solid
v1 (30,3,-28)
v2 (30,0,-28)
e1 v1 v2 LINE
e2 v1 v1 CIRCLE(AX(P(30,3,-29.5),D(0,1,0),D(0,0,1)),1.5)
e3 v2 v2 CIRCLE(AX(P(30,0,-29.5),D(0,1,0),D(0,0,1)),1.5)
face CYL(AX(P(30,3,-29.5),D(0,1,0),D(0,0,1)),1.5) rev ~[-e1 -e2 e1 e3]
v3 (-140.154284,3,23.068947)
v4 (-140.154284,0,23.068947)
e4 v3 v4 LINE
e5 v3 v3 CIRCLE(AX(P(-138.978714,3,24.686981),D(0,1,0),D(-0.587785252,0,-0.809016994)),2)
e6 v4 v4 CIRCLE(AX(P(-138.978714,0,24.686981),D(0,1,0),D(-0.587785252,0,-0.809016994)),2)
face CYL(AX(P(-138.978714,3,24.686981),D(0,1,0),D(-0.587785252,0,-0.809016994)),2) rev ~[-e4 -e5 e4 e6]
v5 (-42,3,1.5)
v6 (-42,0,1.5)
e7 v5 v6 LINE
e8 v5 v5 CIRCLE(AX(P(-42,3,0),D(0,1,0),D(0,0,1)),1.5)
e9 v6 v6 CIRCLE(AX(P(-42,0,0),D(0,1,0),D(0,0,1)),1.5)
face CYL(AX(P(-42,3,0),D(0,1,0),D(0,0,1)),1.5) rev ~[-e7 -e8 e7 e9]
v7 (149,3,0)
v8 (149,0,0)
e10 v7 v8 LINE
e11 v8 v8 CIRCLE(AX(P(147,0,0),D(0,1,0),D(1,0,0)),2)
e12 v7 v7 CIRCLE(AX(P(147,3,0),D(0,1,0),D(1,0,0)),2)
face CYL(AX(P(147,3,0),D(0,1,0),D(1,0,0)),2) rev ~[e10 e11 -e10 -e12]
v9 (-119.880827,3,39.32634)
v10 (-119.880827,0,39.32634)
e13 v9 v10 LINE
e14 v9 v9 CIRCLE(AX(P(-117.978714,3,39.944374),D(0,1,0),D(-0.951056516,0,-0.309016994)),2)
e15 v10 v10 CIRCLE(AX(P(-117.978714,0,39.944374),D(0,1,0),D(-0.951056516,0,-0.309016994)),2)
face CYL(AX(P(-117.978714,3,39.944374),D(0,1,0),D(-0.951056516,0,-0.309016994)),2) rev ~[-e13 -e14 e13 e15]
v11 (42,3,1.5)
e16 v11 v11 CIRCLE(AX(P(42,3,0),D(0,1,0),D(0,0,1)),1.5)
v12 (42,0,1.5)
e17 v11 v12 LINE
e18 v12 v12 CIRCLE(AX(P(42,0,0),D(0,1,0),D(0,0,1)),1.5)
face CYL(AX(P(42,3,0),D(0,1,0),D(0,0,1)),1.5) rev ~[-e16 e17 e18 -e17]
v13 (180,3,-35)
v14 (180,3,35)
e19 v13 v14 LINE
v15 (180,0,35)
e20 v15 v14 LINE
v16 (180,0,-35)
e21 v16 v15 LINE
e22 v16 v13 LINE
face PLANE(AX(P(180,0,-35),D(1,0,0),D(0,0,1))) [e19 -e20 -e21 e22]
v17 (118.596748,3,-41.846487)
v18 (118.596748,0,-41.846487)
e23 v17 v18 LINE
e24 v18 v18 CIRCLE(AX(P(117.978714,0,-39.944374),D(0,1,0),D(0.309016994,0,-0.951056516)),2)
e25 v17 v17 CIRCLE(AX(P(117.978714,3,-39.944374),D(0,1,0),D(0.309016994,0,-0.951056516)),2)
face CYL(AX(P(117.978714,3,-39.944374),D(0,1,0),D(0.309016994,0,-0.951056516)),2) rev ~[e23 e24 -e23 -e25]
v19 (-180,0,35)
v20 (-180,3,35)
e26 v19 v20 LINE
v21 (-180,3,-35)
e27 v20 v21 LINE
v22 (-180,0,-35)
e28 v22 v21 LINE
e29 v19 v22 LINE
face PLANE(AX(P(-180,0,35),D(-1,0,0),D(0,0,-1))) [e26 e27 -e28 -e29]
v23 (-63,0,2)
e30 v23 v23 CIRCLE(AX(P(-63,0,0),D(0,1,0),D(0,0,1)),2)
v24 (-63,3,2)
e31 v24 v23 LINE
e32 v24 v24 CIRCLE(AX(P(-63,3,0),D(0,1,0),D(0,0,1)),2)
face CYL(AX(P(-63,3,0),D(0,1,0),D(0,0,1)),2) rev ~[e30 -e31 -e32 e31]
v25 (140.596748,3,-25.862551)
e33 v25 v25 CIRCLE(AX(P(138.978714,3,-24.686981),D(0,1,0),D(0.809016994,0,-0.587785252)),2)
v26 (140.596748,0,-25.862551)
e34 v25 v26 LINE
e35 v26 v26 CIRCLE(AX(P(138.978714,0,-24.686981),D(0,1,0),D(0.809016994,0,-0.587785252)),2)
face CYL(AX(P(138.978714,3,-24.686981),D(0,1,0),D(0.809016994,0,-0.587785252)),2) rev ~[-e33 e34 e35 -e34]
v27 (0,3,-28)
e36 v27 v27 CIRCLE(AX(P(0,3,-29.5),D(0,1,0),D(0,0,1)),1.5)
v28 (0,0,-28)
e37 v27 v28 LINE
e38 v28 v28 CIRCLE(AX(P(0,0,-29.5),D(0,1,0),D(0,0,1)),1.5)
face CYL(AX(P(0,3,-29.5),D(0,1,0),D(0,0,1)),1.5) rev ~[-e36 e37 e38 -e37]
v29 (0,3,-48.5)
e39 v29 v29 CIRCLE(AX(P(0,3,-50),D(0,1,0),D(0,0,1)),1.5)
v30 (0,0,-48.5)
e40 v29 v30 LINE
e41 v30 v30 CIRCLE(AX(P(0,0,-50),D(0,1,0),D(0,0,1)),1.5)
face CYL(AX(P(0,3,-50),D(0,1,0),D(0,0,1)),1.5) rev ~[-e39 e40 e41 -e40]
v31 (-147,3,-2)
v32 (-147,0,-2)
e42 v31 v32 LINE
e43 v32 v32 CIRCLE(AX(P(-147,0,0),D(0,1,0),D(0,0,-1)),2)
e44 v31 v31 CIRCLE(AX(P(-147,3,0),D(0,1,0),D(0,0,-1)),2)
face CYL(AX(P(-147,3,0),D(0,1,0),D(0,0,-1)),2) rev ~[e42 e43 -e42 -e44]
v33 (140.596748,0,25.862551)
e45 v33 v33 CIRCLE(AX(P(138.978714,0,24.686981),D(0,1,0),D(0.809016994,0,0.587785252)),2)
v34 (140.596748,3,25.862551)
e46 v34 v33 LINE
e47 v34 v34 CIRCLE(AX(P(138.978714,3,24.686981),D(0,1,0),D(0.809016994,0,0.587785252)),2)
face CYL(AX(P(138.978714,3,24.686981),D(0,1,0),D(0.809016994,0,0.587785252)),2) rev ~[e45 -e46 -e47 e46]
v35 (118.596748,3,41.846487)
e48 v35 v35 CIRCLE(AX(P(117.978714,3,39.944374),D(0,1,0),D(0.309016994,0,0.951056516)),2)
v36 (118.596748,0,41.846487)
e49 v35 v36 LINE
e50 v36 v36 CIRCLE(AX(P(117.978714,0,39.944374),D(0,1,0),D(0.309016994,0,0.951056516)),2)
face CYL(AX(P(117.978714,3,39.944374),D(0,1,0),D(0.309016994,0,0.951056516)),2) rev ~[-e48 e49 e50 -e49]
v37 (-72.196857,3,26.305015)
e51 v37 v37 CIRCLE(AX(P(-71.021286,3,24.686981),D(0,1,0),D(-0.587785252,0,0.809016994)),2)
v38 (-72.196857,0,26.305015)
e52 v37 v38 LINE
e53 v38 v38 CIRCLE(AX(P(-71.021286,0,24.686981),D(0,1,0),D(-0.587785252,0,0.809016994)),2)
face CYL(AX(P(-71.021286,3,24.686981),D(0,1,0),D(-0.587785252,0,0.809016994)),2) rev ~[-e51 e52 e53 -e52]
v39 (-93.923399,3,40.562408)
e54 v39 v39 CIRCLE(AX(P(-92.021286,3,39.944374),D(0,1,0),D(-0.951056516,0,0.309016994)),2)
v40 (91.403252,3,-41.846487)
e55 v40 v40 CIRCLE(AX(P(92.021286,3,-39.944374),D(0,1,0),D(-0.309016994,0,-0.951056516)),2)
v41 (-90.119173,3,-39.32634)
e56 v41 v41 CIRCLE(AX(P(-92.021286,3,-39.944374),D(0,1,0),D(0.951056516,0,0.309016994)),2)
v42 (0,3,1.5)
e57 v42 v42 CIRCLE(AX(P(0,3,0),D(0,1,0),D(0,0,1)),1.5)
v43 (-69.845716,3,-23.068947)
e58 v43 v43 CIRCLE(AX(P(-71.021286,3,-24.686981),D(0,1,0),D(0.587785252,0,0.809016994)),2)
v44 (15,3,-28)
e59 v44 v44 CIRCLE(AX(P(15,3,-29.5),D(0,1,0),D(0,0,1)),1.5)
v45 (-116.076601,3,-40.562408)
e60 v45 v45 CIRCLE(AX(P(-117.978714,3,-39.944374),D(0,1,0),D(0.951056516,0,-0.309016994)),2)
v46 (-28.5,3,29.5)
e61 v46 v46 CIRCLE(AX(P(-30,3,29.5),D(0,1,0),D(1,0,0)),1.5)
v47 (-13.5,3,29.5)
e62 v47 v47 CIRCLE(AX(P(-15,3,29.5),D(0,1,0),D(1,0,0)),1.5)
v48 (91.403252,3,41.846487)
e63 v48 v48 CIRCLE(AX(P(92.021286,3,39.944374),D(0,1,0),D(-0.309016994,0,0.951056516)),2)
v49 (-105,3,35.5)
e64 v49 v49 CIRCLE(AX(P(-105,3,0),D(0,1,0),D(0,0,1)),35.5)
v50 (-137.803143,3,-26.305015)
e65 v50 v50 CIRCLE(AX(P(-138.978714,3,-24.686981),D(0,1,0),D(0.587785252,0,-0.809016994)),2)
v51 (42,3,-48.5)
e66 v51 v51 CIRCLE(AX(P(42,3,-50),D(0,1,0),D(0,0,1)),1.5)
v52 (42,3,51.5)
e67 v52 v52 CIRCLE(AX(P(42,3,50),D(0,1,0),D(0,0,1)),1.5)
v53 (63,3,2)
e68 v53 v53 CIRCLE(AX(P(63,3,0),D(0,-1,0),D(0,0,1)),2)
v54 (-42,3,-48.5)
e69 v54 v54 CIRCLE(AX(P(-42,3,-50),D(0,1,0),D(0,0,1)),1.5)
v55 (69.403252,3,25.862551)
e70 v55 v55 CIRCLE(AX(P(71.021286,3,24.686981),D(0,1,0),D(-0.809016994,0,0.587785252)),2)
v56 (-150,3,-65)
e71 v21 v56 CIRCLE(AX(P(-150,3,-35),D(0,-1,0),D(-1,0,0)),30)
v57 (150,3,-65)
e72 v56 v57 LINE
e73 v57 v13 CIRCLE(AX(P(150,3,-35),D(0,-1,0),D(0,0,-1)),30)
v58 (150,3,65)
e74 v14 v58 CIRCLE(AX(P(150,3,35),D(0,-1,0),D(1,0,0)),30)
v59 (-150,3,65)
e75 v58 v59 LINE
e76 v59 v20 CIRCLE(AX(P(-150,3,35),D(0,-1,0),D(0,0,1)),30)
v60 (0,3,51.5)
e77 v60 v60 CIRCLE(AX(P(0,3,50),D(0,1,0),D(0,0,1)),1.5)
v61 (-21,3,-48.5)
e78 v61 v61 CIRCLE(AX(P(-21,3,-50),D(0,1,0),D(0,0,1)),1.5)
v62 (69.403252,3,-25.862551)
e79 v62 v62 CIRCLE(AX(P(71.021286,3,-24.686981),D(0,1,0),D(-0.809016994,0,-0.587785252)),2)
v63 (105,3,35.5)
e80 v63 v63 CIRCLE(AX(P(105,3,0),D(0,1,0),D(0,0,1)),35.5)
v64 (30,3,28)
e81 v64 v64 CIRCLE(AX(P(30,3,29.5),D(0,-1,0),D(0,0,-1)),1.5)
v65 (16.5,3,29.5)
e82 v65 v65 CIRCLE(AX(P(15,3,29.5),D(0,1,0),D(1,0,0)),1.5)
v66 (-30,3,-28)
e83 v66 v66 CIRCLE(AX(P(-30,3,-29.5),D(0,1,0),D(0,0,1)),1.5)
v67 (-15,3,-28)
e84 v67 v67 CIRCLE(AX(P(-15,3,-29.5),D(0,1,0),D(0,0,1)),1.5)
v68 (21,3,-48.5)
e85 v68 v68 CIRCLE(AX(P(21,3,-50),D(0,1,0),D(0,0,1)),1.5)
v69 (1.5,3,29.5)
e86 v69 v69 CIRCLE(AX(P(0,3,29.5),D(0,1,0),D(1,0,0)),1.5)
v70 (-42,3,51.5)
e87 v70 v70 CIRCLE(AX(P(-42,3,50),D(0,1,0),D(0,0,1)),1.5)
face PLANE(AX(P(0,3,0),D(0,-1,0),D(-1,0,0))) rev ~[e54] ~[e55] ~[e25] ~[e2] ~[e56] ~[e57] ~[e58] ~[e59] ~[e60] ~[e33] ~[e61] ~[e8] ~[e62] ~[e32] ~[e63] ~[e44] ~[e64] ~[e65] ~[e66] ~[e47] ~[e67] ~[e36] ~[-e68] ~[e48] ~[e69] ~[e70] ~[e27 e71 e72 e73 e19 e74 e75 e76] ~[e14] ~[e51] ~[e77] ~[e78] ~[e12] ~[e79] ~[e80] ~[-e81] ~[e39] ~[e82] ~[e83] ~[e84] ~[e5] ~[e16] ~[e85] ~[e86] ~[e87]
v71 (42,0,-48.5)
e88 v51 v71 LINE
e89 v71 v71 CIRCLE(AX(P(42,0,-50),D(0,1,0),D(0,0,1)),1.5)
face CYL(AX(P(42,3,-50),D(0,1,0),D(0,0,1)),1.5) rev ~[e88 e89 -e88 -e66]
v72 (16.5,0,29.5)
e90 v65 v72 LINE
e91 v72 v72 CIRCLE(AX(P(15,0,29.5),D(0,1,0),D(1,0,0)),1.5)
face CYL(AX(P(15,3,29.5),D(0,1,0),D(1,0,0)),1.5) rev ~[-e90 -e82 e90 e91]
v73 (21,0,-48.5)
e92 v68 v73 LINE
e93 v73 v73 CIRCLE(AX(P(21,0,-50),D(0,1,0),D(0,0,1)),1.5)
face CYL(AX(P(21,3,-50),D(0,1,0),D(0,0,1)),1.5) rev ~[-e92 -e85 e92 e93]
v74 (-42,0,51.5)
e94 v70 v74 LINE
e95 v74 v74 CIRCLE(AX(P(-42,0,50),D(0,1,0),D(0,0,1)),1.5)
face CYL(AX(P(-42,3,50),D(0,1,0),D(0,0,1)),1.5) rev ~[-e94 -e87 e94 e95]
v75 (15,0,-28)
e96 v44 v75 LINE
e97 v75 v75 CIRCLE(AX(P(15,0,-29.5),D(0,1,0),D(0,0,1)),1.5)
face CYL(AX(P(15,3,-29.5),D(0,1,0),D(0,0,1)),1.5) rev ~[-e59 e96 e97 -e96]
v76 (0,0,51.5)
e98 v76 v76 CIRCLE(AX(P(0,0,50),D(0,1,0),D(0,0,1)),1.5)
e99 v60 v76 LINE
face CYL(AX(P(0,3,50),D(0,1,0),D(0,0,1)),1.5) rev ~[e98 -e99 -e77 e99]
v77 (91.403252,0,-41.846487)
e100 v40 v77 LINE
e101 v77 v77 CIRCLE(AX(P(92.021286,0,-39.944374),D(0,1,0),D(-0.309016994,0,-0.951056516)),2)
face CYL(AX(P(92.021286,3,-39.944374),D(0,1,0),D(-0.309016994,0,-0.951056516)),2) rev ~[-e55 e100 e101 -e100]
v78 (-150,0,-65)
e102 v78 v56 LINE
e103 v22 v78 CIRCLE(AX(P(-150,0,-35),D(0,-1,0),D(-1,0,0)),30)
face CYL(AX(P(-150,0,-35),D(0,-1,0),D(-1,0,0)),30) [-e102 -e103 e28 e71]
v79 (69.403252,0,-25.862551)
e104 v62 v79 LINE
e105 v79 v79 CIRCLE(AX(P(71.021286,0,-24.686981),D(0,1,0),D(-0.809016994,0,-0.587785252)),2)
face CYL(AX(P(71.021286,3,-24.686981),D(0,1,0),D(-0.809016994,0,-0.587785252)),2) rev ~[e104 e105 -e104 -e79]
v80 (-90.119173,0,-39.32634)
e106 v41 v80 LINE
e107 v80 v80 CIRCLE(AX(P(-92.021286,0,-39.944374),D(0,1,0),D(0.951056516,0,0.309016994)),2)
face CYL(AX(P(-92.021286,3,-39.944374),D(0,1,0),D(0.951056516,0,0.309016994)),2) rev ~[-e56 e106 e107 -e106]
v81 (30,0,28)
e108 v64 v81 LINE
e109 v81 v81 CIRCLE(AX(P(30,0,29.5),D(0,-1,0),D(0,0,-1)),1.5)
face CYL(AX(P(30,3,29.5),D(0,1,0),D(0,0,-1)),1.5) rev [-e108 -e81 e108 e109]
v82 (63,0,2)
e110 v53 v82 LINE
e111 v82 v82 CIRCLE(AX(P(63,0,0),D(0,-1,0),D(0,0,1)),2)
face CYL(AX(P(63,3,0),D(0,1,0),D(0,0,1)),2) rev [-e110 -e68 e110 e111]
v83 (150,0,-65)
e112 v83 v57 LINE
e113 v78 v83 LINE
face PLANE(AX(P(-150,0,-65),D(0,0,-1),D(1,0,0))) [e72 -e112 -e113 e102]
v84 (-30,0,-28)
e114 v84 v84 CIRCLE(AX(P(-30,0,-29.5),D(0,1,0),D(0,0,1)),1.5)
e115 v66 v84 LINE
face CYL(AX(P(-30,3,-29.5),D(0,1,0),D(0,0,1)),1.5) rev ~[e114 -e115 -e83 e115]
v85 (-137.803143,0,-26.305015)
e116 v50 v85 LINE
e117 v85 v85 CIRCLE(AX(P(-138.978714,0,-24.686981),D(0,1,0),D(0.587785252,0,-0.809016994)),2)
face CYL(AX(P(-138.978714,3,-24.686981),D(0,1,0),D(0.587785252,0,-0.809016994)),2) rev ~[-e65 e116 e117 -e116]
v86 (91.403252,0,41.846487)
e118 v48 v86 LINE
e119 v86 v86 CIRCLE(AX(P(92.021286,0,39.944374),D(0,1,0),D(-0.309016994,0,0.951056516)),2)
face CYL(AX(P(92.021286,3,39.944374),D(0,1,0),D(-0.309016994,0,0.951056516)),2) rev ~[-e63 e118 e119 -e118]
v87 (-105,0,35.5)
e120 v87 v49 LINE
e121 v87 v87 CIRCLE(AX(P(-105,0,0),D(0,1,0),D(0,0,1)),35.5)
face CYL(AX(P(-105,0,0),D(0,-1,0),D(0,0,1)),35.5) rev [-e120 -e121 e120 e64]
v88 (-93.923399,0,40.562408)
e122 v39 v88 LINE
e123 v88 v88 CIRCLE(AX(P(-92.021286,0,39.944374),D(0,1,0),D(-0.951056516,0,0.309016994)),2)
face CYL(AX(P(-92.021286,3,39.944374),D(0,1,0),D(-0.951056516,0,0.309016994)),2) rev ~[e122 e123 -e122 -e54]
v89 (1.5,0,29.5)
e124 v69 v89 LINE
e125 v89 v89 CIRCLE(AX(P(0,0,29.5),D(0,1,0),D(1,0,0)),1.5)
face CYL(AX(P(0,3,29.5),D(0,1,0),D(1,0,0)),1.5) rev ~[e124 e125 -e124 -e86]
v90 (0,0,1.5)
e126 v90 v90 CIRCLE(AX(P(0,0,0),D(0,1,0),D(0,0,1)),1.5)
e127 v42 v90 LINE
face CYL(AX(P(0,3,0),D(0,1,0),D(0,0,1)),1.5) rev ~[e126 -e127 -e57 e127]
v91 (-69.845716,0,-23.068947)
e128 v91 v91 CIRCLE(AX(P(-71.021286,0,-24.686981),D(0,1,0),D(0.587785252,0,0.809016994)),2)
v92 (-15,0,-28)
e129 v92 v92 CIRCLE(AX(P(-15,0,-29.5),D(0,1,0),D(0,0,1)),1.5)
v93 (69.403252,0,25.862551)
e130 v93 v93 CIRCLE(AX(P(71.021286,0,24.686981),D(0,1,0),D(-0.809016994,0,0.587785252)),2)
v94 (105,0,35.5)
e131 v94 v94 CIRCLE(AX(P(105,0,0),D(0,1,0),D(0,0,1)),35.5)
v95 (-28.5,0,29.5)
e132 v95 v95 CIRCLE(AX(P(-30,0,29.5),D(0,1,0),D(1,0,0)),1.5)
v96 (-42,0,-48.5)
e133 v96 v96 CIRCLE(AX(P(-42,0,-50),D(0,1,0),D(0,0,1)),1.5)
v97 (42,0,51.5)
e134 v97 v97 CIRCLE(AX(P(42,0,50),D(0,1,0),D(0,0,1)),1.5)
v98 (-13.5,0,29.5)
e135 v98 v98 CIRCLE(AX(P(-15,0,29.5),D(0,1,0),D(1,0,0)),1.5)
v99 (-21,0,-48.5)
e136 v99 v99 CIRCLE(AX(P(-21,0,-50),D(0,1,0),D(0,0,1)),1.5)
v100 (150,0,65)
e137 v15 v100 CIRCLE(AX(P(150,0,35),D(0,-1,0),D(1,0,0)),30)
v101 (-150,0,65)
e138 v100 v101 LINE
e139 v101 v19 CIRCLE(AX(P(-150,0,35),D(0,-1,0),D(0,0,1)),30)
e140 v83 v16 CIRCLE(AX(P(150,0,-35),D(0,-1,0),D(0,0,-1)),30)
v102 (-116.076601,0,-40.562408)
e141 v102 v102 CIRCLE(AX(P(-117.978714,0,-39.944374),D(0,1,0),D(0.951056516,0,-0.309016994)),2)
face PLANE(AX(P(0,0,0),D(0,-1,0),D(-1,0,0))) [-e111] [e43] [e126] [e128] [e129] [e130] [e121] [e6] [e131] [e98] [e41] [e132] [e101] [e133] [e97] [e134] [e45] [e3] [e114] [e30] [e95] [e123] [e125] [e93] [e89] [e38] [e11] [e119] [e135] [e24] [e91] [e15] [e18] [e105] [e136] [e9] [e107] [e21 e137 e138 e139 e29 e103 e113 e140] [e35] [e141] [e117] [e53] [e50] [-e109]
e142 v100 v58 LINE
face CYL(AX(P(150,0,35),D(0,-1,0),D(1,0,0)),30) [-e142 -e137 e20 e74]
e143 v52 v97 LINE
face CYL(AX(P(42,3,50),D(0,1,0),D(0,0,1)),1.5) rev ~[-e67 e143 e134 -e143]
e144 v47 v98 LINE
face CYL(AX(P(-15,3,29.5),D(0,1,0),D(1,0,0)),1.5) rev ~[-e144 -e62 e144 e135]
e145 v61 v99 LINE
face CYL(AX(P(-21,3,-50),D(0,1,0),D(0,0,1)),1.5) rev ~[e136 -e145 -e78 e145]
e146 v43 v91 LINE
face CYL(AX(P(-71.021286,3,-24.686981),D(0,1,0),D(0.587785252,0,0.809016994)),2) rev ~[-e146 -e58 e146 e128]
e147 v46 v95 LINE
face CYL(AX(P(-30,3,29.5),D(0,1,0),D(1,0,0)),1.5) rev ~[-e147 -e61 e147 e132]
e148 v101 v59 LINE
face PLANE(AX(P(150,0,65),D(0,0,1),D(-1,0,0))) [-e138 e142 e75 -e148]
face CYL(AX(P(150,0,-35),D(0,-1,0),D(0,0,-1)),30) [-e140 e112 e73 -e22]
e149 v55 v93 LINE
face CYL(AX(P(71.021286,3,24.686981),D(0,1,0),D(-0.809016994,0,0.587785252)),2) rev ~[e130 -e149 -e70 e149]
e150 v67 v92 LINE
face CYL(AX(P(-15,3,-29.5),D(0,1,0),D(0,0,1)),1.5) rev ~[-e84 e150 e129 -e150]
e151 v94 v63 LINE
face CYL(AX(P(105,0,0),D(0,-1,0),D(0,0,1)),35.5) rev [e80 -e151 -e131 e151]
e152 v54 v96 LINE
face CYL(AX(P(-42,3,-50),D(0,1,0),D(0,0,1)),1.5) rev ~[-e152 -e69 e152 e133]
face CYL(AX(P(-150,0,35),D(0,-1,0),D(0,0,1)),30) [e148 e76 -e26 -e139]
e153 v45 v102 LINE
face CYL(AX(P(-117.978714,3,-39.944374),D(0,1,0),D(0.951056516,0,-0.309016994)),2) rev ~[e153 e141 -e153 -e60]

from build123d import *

# Parameters (mm, degrees)
SKETCH_1_R               = 35.5
EXTRUDE_1_DEPTH          = 3
CUT_EXTRUDE_1_REACH      = 193.4
SKETCH_3_R               = 2
PATTERN_CIRCULAR_1_COUNT = 10
MIRROR_1_COPY_1_REACH    = 193.4
MIRROR_1_COPY_1_SKETCH_R = 2
MIRROR_1_COPY_2_REACH    = 193.4
MIRROR_1_COPY_2_SKETCH_R = 2
MIRROR_1_COPY_3_REACH    = 193.4
MIRROR_1_COPY_3_SKETCH_R = 2
MIRROR_1_COPY_4_REACH    = 193.4
MIRROR_1_COPY_4_SKETCH_R = 2
MIRROR_1_COPY_5_REACH    = 193.4
MIRROR_1_COPY_5_SKETCH_R = 2
MIRROR_1_COPY_6_REACH    = 193.4
MIRROR_1_COPY_6_SKETCH_R = 2
MIRROR_1_COPY_7_REACH    = 193.4
MIRROR_1_COPY_7_SKETCH_R = 2
MIRROR_1_COPY_8_REACH    = 193.4
MIRROR_1_COPY_8_SKETCH_R = 2
MIRROR_1_COPY_9_REACH    = 193.4
MIRROR_1_COPY_9_SKETCH_R = 2
CUT_EXTRUDE_2_REACH      = 193.4
SKETCH_4_R               = 1.5
PATTERN_LINEAR_1_COUNT   = 5
PATTERN_LINEAR_1_PITCH   = 21
CUT_EXTRUDE_3_REACH      = 193.4
SKETCH_6_R               = 1.5
PATTERN_LINEAR_3_COUNT   = 5
PATTERN_LINEAR_3_PITCH   = 15
MIRROR_2_COPY_1_REACH    = 193.4
MIRROR_2_COPY_1_SKETCH_R = 1.5
MIRROR_2_COPY_2_REACH    = 193.4
MIRROR_2_COPY_2_SKETCH_R = 1.5
MIRROR_2_COPY_3_REACH    = 193.4
MIRROR_2_COPY_3_SKETCH_R = 1.5
MIRROR_2_COPY_4_REACH    = 193.4
MIRROR_2_COPY_4_SKETCH_R = 1.5
CUT_EXTRUDE_4_REACH      = 193.4
SKETCH_7_R               = 1.5
PATTERN_LINEAR_4_COUNT   = 2
PATTERN_LINEAR_4_PITCH   = 50


with BuildPart() as part:
    # 草圖1 → 填料-伸長1 (new body)
    with BuildSketch(Plane(origin=(0, 0, 0), x_dir=(1, 0, 0), z_dir=(0, 1, 0))):
        with BuildLine():
            Line((-150, 65), (150, 65))
            ThreePointArc((150, 65), (171.213203436, 56.213203436), (180, 35))
            Line((180, 35), (180, -35))
            ThreePointArc((180, -35), (171.213203436, -56.213203436), (150, -65))
            Line((150, -65), (-150, -65))
            ThreePointArc((-150, -65), (-171.213203436, -56.213203436), (-180, -35))
            Line((-180, -35), (-180, 35))
            ThreePointArc((-180, 35), (-171.213203436, 56.213203436), (-150, 65))
        make_face()
        with Locations(Location((105, 0, 0), (0, 0, 270))):
            Circle(SKETCH_1_R, mode=Mode.SUBTRACT)
        with Locations(Location((-105, 0, 0), (0, 0, 270))):
            Circle(SKETCH_1_R, mode=Mode.SUBTRACT)
    extrude(amount=EXTRUDE_1_DEPTH)

    # 草圖3 → 除料-伸長1 (cut, up to next)
    with BuildSketch(Plane(origin=(0, 3, 0), x_dir=(1, 0, 0), z_dir=(0, 1, 0)), mode=Mode.PRIVATE) as cut_extrude_1_sk1:
        with Locations(Location((-63, 0, 0), (0, 0, 270))):
            Circle(SKETCH_3_R)
    cut_extrude_1_tool1 = extrude(cut_extrude_1_sk1.sketch, amount=-CUT_EXTRUDE_1_REACH, mode=Mode.PRIVATE) & part.part
    cut_extrude_1 = cut_extrude_1_tool1.solids().sort_by_distance((-63, 3, 0))[0]
    add(cut_extrude_1, mode=Mode.SUBTRACT)

    # 環狀複製排列1: 除料-伸長1 ×10 about axis
    pattern_circular_1_axis = Axis((-105, 0, 0), (0, 1, 0))
    for i in range(1, PATTERN_CIRCULAR_1_COUNT):
        add(cut_extrude_1.rotate(pattern_circular_1_axis, i * 360 / PATTERN_CIRCULAR_1_COUNT), mode=Mode.SUBTRACT)

    # 鏡射1: 除料-伸長1 across plane
    add(cut_extrude_1.mirror(Plane(origin=(0, 0, 0), x_dir=(0, 0, 1), z_dir=(1, 0, 0))), mode=Mode.SUBTRACT)

    # 鏡射1 copy 1 sketch → 鏡射1 copy 1 (cut, up to next)
    with BuildSketch(Plane(origin=(20.053215591, 3, -61.717451491), x_dir=(-0.8090169943749475, 0, -0.5877852522924731), z_dir=(0, 1, 0)), mode=Mode.PRIVATE) as mirror_1_copy_1_sk1:
        with Locations((-63, 0)):
            Circle(MIRROR_1_COPY_1_SKETCH_R)
    mirror_1_copy_1_tool1 = extrude(mirror_1_copy_1_sk1.sketch, amount=-MIRROR_1_COPY_1_REACH, mode=Mode.PRIVATE) & part.part
    add(mirror_1_copy_1_tool1.solids().sort_by_distance((71.021286236, 3, -24.686980596))[0], mode=Mode.SUBTRACT)

    # 鏡射1 copy 2 sketch → 鏡射1 copy 2 (cut, up to next)
    with BuildSketch(Plane(origin=(72.553215591, 3, -99.860934211), x_dir=(-0.30901699437494745, 0, -0.9510565162951535), z_dir=(0, 1, 0)), mode=Mode.PRIVATE) as mirror_1_copy_2_sk1:
        with Locations((-63, 0)):
            Circle(MIRROR_1_COPY_2_SKETCH_R)
    mirror_1_copy_2_tool1 = extrude(mirror_1_copy_2_sk1.sketch, amount=-MIRROR_1_COPY_2_REACH, mode=Mode.PRIVATE) & part.part
    add(mirror_1_copy_2_tool1.solids().sort_by_distance((92.021286236, 3, -39.944373684))[0], mode=Mode.SUBTRACT)

    # 鏡射1 copy 3 sketch → 鏡射1 copy 3 (cut, up to next)
    with BuildSketch(Plane(origin=(137.446784409, 3, -99.860934211), x_dir=(0.30901699437494734, 0, -0.9510565162951536), z_dir=(0, 1, 0)), mode=Mode.PRIVATE) as mirror_1_copy_3_sk1:
        with Locations((-63, 0)):
            Circle(MIRROR_1_COPY_3_SKETCH_R)
    mirror_1_copy_3_tool1 = extrude(mirror_1_copy_3_sk1.sketch, amount=-MIRROR_1_COPY_3_REACH, mode=Mode.PRIVATE) & part.part
    add(mirror_1_copy_3_tool1.solids().sort_by_distance((117.978713764, 3, -39.944373684))[0], mode=Mode.SUBTRACT)

    # 鏡射1 copy 4 sketch → 鏡射1 copy 4 (cut, up to next)
    with BuildSketch(Plane(origin=(189.946784409, 3, -61.717451491), x_dir=(0.8090169943749473, 0, -0.5877852522924732), z_dir=(0, 1, 0)), mode=Mode.PRIVATE) as mirror_1_copy_4_sk1:
        with Locations((-63, 0)):
            Circle(MIRROR_1_COPY_4_SKETCH_R)
    mirror_1_copy_4_tool1 = extrude(mirror_1_copy_4_sk1.sketch, amount=-MIRROR_1_COPY_4_REACH, mode=Mode.PRIVATE) & part.part
    add(mirror_1_copy_4_tool1.solids().sort_by_distance((138.978713764, 3, -24.686980596))[0], mode=Mode.SUBTRACT)

    # 鏡射1 copy 5 sketch → 鏡射1 copy 5 (cut, up to next)
    with BuildSketch(Plane(origin=(210, 3, 0), x_dir=(1, 0, 0), z_dir=(0, 1, 0)), mode=Mode.PRIVATE) as mirror_1_copy_5_sk1:
        with Locations((-63, 0)):
            Circle(MIRROR_1_COPY_5_SKETCH_R)
    mirror_1_copy_5_tool1 = extrude(mirror_1_copy_5_sk1.sketch, amount=-MIRROR_1_COPY_5_REACH, mode=Mode.PRIVATE) & part.part
    add(mirror_1_copy_5_tool1.solids().sort_by_distance((147, 3, 0))[0], mode=Mode.SUBTRACT)

    # 鏡射1 copy 6 sketch → 鏡射1 copy 6 (cut, up to next)
    with BuildSketch(Plane(origin=(189.946784409, 3, 61.717451491), x_dir=(0.8090169943749476, 0, 0.587785252292473), z_dir=(0, 1, 0)), mode=Mode.PRIVATE) as mirror_1_copy_6_sk1:
        with Locations((-63, 0)):
            Circle(MIRROR_1_COPY_6_SKETCH_R)
    mirror_1_copy_6_tool1 = extrude(mirror_1_copy_6_sk1.sketch, amount=-MIRROR_1_COPY_6_REACH, mode=Mode.PRIVATE) & part.part
    add(mirror_1_copy_6_tool1.solids().sort_by_distance((138.978713764, 3, 24.686980596))[0], mode=Mode.SUBTRACT)

    # 鏡射1 copy 7 sketch → 鏡射1 copy 7 (cut, up to next)
    with BuildSketch(Plane(origin=(137.446784409, 3, 99.860934211), x_dir=(0.30901699437494756, 0, 0.9510565162951535), z_dir=(0, 1, 0)), mode=Mode.PRIVATE) as mirror_1_copy_7_sk1:
        with Locations((-63, 0)):
            Circle(MIRROR_1_COPY_7_SKETCH_R)
    mirror_1_copy_7_tool1 = extrude(mirror_1_copy_7_sk1.sketch, amount=-MIRROR_1_COPY_7_REACH, mode=Mode.PRIVATE) & part.part
    add(mirror_1_copy_7_tool1.solids().sort_by_distance((117.978713764, 3, 39.944373684))[0], mode=Mode.SUBTRACT)

    # 鏡射1 copy 8 sketch → 鏡射1 copy 8 (cut, up to next)
    with BuildSketch(Plane(origin=(72.553215591, 3, 99.860934211), x_dir=(-0.30901699437494723, 0, 0.9510565162951536), z_dir=(0, 1, 0)), mode=Mode.PRIVATE) as mirror_1_copy_8_sk1:
        with Locations((-63, 0)):
            Circle(MIRROR_1_COPY_8_SKETCH_R)
    mirror_1_copy_8_tool1 = extrude(mirror_1_copy_8_sk1.sketch, amount=-MIRROR_1_COPY_8_REACH, mode=Mode.PRIVATE) & part.part
    add(mirror_1_copy_8_tool1.solids().sort_by_distance((92.021286236, 3, 39.944373684))[0], mode=Mode.SUBTRACT)

    # 鏡射1 copy 9 sketch → 鏡射1 copy 9 (cut, up to next)
    with BuildSketch(Plane(origin=(20.053215591, 3, 61.717451491), x_dir=(-0.8090169943749473, 0, 0.5877852522924734), z_dir=(0, 1, 0)), mode=Mode.PRIVATE) as mirror_1_copy_9_sk1:
        with Locations((-63, 0)):
            Circle(MIRROR_1_COPY_9_SKETCH_R)
    mirror_1_copy_9_tool1 = extrude(mirror_1_copy_9_sk1.sketch, amount=-MIRROR_1_COPY_9_REACH, mode=Mode.PRIVATE) & part.part
    add(mirror_1_copy_9_tool1.solids().sort_by_distance((71.021286236, 3, 24.686980596))[0], mode=Mode.SUBTRACT)

    # 草圖4 → 除料-伸長2 (cut, up to next)
    with BuildSketch(Plane(origin=(0, 3, 0), x_dir=(1, 0, 0), z_dir=(0, 1, 0)), mode=Mode.PRIVATE) as cut_extrude_2_sk1:
        with Locations(Location((42, 50, 0), (0, 0, 270))):
            Circle(SKETCH_4_R)
    cut_extrude_2_tool1 = extrude(cut_extrude_2_sk1.sketch, amount=-CUT_EXTRUDE_2_REACH, mode=Mode.PRIVATE) & part.part
    cut_extrude_2 = cut_extrude_2_tool1.solids().sort_by_distance((42, 3, -50))[0]
    add(cut_extrude_2, mode=Mode.SUBTRACT)

    # 直線複製排列1: 除料-伸長2 ×5
    with Locations(*[(-i * PATTERN_LINEAR_1_PITCH, 0, 0) for i in range(1, PATTERN_LINEAR_1_COUNT)]):
        add(cut_extrude_2, mode=Mode.SUBTRACT)

    # 草圖6 → 除料-伸長3 (cut, up to next)
    with BuildSketch(Plane(origin=(0, 3, 0), x_dir=(1, 0, 0), z_dir=(0, 1, 0)), mode=Mode.PRIVATE) as cut_extrude_3_sk1:
        with Locations(Location((30, 29.5, 0), (0, 0, 270))):
            Circle(SKETCH_6_R)
    cut_extrude_3_tool1 = extrude(cut_extrude_3_sk1.sketch, amount=-CUT_EXTRUDE_3_REACH, mode=Mode.PRIVATE) & part.part
    cut_extrude_3 = cut_extrude_3_tool1.solids().sort_by_distance((30, 3, -29.5))[0]
    add(cut_extrude_3, mode=Mode.SUBTRACT)

    # 直線複製排列3: 除料-伸長3 ×5
    with Locations(*[(-i * PATTERN_LINEAR_3_PITCH, 0, 0) for i in range(1, PATTERN_LINEAR_3_COUNT)]):
        add(cut_extrude_3, mode=Mode.SUBTRACT)

    # 鏡射2: 除料-伸長3 across plane
    add(cut_extrude_3.mirror(Plane.XY), mode=Mode.SUBTRACT)

    # 鏡射2 copy 1 sketch → 鏡射2 copy 1 (cut, up to next)
    with BuildSketch(Plane(origin=(-15, 3, 0), x_dir=(1, 0, 0), z_dir=(0, 1, 0)), mode=Mode.PRIVATE) as mirror_2_copy_1_sk1:
        with Locations((30, -29.5)):
            Circle(MIRROR_2_COPY_1_SKETCH_R)
    mirror_2_copy_1_tool1 = extrude(mirror_2_copy_1_sk1.sketch, amount=-MIRROR_2_COPY_1_REACH, mode=Mode.PRIVATE) & part.part
    add(mirror_2_copy_1_tool1.solids().sort_by_distance((15, 3, 29.5))[0], mode=Mode.SUBTRACT)

    # 鏡射2 copy 2 sketch → 鏡射2 copy 2 (cut, up to next)
    with BuildSketch(Plane(origin=(-30, 3, 0), x_dir=(1, 0, 0), z_dir=(0, 1, 0)), mode=Mode.PRIVATE) as mirror_2_copy_2_sk1:
        with Locations((30, -29.5)):
            Circle(MIRROR_2_COPY_2_SKETCH_R)
    mirror_2_copy_2_tool1 = extrude(mirror_2_copy_2_sk1.sketch, amount=-MIRROR_2_COPY_2_REACH, mode=Mode.PRIVATE) & part.part
    add(mirror_2_copy_2_tool1.solids().sort_by_distance((0, 3, 29.5))[0], mode=Mode.SUBTRACT)

    # 鏡射2 copy 3 sketch → 鏡射2 copy 3 (cut, up to next)
    with BuildSketch(Plane(origin=(-45, 3, 0), x_dir=(1, 0, 0), z_dir=(0, 1, 0)), mode=Mode.PRIVATE) as mirror_2_copy_3_sk1:
        with Locations((30, -29.5)):
            Circle(MIRROR_2_COPY_3_SKETCH_R)
    mirror_2_copy_3_tool1 = extrude(mirror_2_copy_3_sk1.sketch, amount=-MIRROR_2_COPY_3_REACH, mode=Mode.PRIVATE) & part.part
    add(mirror_2_copy_3_tool1.solids().sort_by_distance((-15, 3, 29.5))[0], mode=Mode.SUBTRACT)

    # 鏡射2 copy 4 sketch → 鏡射2 copy 4 (cut, up to next)
    with BuildSketch(Plane(origin=(-60, 3, 0), x_dir=(1, 0, 0), z_dir=(0, 1, 0)), mode=Mode.PRIVATE) as mirror_2_copy_4_sk1:
        with Locations((30, -29.5)):
            Circle(MIRROR_2_COPY_4_SKETCH_R)
    mirror_2_copy_4_tool1 = extrude(mirror_2_copy_4_sk1.sketch, amount=-MIRROR_2_COPY_4_REACH, mode=Mode.PRIVATE) & part.part
    add(mirror_2_copy_4_tool1.solids().sort_by_distance((-30, 3, 29.5))[0], mode=Mode.SUBTRACT)

    # 草圖7 → 除料-伸長4 (cut, up to next)
    with BuildSketch(Plane(origin=(0, 3, 0), x_dir=(1, 0, 0), z_dir=(0, 1, 0)), mode=Mode.PRIVATE) as cut_extrude_4_sk1:
        with Locations(Location((42, 0, 0), (0, 0, 270))):
            Circle(SKETCH_7_R)
    cut_extrude_4_tool1 = extrude(cut_extrude_4_sk1.sketch, amount=-CUT_EXTRUDE_4_REACH, mode=Mode.PRIVATE) & part.part
    # 草圖7 → 除料-伸長4 (cut, up to next)
    with BuildSketch(Plane(origin=(0, 3, 0), x_dir=(1, 0, 0), z_dir=(0, 1, 0)), mode=Mode.PRIVATE) as cut_extrude_4_sk2:
        with Locations(Location((0, 0, 0), (0, 0, 270))):
            Circle(SKETCH_7_R)
    cut_extrude_4_tool2 = extrude(cut_extrude_4_sk2.sketch, amount=-CUT_EXTRUDE_4_REACH, mode=Mode.PRIVATE) & part.part
    # 草圖7 → 除料-伸長4 (cut, up to next)
    with BuildSketch(Plane(origin=(0, 3, 0), x_dir=(1, 0, 0), z_dir=(0, 1, 0)), mode=Mode.PRIVATE) as cut_extrude_4_sk3:
        with Locations(Location((-42, 0, 0), (0, 0, 270))):
            Circle(SKETCH_7_R)
    cut_extrude_4_tool3 = extrude(cut_extrude_4_sk3.sketch, amount=-CUT_EXTRUDE_4_REACH, mode=Mode.PRIVATE) & part.part
    cut_extrude_4_1 = cut_extrude_4_tool1.solids().sort_by_distance((42, 3, 0))[0]
    add(cut_extrude_4_1, mode=Mode.SUBTRACT)
    cut_extrude_4_2 = cut_extrude_4_tool2.solids().sort_by_distance((0, 3, 0))[0]
    add(cut_extrude_4_2, mode=Mode.SUBTRACT)
    cut_extrude_4_3 = cut_extrude_4_tool3.solids().sort_by_distance((-42, 3, 0))[0]
    add(cut_extrude_4_3, mode=Mode.SUBTRACT)
    cut_extrude_4 = cut_extrude_4_1 + cut_extrude_4_2 + cut_extrude_4_3  # 除料-伸長4 as one shape, for the pattern or mirror that repeats it

    # 直線複製排列4: 除料-伸長4 ×2
    with Locations(*[(0, 0, i * PATTERN_LINEAR_4_PITCH) for i in range(1, PATTERN_LINEAR_4_COUNT)]):
        add(cut_extrude_4, mode=Mode.SUBTRACT)


solid = part.part
